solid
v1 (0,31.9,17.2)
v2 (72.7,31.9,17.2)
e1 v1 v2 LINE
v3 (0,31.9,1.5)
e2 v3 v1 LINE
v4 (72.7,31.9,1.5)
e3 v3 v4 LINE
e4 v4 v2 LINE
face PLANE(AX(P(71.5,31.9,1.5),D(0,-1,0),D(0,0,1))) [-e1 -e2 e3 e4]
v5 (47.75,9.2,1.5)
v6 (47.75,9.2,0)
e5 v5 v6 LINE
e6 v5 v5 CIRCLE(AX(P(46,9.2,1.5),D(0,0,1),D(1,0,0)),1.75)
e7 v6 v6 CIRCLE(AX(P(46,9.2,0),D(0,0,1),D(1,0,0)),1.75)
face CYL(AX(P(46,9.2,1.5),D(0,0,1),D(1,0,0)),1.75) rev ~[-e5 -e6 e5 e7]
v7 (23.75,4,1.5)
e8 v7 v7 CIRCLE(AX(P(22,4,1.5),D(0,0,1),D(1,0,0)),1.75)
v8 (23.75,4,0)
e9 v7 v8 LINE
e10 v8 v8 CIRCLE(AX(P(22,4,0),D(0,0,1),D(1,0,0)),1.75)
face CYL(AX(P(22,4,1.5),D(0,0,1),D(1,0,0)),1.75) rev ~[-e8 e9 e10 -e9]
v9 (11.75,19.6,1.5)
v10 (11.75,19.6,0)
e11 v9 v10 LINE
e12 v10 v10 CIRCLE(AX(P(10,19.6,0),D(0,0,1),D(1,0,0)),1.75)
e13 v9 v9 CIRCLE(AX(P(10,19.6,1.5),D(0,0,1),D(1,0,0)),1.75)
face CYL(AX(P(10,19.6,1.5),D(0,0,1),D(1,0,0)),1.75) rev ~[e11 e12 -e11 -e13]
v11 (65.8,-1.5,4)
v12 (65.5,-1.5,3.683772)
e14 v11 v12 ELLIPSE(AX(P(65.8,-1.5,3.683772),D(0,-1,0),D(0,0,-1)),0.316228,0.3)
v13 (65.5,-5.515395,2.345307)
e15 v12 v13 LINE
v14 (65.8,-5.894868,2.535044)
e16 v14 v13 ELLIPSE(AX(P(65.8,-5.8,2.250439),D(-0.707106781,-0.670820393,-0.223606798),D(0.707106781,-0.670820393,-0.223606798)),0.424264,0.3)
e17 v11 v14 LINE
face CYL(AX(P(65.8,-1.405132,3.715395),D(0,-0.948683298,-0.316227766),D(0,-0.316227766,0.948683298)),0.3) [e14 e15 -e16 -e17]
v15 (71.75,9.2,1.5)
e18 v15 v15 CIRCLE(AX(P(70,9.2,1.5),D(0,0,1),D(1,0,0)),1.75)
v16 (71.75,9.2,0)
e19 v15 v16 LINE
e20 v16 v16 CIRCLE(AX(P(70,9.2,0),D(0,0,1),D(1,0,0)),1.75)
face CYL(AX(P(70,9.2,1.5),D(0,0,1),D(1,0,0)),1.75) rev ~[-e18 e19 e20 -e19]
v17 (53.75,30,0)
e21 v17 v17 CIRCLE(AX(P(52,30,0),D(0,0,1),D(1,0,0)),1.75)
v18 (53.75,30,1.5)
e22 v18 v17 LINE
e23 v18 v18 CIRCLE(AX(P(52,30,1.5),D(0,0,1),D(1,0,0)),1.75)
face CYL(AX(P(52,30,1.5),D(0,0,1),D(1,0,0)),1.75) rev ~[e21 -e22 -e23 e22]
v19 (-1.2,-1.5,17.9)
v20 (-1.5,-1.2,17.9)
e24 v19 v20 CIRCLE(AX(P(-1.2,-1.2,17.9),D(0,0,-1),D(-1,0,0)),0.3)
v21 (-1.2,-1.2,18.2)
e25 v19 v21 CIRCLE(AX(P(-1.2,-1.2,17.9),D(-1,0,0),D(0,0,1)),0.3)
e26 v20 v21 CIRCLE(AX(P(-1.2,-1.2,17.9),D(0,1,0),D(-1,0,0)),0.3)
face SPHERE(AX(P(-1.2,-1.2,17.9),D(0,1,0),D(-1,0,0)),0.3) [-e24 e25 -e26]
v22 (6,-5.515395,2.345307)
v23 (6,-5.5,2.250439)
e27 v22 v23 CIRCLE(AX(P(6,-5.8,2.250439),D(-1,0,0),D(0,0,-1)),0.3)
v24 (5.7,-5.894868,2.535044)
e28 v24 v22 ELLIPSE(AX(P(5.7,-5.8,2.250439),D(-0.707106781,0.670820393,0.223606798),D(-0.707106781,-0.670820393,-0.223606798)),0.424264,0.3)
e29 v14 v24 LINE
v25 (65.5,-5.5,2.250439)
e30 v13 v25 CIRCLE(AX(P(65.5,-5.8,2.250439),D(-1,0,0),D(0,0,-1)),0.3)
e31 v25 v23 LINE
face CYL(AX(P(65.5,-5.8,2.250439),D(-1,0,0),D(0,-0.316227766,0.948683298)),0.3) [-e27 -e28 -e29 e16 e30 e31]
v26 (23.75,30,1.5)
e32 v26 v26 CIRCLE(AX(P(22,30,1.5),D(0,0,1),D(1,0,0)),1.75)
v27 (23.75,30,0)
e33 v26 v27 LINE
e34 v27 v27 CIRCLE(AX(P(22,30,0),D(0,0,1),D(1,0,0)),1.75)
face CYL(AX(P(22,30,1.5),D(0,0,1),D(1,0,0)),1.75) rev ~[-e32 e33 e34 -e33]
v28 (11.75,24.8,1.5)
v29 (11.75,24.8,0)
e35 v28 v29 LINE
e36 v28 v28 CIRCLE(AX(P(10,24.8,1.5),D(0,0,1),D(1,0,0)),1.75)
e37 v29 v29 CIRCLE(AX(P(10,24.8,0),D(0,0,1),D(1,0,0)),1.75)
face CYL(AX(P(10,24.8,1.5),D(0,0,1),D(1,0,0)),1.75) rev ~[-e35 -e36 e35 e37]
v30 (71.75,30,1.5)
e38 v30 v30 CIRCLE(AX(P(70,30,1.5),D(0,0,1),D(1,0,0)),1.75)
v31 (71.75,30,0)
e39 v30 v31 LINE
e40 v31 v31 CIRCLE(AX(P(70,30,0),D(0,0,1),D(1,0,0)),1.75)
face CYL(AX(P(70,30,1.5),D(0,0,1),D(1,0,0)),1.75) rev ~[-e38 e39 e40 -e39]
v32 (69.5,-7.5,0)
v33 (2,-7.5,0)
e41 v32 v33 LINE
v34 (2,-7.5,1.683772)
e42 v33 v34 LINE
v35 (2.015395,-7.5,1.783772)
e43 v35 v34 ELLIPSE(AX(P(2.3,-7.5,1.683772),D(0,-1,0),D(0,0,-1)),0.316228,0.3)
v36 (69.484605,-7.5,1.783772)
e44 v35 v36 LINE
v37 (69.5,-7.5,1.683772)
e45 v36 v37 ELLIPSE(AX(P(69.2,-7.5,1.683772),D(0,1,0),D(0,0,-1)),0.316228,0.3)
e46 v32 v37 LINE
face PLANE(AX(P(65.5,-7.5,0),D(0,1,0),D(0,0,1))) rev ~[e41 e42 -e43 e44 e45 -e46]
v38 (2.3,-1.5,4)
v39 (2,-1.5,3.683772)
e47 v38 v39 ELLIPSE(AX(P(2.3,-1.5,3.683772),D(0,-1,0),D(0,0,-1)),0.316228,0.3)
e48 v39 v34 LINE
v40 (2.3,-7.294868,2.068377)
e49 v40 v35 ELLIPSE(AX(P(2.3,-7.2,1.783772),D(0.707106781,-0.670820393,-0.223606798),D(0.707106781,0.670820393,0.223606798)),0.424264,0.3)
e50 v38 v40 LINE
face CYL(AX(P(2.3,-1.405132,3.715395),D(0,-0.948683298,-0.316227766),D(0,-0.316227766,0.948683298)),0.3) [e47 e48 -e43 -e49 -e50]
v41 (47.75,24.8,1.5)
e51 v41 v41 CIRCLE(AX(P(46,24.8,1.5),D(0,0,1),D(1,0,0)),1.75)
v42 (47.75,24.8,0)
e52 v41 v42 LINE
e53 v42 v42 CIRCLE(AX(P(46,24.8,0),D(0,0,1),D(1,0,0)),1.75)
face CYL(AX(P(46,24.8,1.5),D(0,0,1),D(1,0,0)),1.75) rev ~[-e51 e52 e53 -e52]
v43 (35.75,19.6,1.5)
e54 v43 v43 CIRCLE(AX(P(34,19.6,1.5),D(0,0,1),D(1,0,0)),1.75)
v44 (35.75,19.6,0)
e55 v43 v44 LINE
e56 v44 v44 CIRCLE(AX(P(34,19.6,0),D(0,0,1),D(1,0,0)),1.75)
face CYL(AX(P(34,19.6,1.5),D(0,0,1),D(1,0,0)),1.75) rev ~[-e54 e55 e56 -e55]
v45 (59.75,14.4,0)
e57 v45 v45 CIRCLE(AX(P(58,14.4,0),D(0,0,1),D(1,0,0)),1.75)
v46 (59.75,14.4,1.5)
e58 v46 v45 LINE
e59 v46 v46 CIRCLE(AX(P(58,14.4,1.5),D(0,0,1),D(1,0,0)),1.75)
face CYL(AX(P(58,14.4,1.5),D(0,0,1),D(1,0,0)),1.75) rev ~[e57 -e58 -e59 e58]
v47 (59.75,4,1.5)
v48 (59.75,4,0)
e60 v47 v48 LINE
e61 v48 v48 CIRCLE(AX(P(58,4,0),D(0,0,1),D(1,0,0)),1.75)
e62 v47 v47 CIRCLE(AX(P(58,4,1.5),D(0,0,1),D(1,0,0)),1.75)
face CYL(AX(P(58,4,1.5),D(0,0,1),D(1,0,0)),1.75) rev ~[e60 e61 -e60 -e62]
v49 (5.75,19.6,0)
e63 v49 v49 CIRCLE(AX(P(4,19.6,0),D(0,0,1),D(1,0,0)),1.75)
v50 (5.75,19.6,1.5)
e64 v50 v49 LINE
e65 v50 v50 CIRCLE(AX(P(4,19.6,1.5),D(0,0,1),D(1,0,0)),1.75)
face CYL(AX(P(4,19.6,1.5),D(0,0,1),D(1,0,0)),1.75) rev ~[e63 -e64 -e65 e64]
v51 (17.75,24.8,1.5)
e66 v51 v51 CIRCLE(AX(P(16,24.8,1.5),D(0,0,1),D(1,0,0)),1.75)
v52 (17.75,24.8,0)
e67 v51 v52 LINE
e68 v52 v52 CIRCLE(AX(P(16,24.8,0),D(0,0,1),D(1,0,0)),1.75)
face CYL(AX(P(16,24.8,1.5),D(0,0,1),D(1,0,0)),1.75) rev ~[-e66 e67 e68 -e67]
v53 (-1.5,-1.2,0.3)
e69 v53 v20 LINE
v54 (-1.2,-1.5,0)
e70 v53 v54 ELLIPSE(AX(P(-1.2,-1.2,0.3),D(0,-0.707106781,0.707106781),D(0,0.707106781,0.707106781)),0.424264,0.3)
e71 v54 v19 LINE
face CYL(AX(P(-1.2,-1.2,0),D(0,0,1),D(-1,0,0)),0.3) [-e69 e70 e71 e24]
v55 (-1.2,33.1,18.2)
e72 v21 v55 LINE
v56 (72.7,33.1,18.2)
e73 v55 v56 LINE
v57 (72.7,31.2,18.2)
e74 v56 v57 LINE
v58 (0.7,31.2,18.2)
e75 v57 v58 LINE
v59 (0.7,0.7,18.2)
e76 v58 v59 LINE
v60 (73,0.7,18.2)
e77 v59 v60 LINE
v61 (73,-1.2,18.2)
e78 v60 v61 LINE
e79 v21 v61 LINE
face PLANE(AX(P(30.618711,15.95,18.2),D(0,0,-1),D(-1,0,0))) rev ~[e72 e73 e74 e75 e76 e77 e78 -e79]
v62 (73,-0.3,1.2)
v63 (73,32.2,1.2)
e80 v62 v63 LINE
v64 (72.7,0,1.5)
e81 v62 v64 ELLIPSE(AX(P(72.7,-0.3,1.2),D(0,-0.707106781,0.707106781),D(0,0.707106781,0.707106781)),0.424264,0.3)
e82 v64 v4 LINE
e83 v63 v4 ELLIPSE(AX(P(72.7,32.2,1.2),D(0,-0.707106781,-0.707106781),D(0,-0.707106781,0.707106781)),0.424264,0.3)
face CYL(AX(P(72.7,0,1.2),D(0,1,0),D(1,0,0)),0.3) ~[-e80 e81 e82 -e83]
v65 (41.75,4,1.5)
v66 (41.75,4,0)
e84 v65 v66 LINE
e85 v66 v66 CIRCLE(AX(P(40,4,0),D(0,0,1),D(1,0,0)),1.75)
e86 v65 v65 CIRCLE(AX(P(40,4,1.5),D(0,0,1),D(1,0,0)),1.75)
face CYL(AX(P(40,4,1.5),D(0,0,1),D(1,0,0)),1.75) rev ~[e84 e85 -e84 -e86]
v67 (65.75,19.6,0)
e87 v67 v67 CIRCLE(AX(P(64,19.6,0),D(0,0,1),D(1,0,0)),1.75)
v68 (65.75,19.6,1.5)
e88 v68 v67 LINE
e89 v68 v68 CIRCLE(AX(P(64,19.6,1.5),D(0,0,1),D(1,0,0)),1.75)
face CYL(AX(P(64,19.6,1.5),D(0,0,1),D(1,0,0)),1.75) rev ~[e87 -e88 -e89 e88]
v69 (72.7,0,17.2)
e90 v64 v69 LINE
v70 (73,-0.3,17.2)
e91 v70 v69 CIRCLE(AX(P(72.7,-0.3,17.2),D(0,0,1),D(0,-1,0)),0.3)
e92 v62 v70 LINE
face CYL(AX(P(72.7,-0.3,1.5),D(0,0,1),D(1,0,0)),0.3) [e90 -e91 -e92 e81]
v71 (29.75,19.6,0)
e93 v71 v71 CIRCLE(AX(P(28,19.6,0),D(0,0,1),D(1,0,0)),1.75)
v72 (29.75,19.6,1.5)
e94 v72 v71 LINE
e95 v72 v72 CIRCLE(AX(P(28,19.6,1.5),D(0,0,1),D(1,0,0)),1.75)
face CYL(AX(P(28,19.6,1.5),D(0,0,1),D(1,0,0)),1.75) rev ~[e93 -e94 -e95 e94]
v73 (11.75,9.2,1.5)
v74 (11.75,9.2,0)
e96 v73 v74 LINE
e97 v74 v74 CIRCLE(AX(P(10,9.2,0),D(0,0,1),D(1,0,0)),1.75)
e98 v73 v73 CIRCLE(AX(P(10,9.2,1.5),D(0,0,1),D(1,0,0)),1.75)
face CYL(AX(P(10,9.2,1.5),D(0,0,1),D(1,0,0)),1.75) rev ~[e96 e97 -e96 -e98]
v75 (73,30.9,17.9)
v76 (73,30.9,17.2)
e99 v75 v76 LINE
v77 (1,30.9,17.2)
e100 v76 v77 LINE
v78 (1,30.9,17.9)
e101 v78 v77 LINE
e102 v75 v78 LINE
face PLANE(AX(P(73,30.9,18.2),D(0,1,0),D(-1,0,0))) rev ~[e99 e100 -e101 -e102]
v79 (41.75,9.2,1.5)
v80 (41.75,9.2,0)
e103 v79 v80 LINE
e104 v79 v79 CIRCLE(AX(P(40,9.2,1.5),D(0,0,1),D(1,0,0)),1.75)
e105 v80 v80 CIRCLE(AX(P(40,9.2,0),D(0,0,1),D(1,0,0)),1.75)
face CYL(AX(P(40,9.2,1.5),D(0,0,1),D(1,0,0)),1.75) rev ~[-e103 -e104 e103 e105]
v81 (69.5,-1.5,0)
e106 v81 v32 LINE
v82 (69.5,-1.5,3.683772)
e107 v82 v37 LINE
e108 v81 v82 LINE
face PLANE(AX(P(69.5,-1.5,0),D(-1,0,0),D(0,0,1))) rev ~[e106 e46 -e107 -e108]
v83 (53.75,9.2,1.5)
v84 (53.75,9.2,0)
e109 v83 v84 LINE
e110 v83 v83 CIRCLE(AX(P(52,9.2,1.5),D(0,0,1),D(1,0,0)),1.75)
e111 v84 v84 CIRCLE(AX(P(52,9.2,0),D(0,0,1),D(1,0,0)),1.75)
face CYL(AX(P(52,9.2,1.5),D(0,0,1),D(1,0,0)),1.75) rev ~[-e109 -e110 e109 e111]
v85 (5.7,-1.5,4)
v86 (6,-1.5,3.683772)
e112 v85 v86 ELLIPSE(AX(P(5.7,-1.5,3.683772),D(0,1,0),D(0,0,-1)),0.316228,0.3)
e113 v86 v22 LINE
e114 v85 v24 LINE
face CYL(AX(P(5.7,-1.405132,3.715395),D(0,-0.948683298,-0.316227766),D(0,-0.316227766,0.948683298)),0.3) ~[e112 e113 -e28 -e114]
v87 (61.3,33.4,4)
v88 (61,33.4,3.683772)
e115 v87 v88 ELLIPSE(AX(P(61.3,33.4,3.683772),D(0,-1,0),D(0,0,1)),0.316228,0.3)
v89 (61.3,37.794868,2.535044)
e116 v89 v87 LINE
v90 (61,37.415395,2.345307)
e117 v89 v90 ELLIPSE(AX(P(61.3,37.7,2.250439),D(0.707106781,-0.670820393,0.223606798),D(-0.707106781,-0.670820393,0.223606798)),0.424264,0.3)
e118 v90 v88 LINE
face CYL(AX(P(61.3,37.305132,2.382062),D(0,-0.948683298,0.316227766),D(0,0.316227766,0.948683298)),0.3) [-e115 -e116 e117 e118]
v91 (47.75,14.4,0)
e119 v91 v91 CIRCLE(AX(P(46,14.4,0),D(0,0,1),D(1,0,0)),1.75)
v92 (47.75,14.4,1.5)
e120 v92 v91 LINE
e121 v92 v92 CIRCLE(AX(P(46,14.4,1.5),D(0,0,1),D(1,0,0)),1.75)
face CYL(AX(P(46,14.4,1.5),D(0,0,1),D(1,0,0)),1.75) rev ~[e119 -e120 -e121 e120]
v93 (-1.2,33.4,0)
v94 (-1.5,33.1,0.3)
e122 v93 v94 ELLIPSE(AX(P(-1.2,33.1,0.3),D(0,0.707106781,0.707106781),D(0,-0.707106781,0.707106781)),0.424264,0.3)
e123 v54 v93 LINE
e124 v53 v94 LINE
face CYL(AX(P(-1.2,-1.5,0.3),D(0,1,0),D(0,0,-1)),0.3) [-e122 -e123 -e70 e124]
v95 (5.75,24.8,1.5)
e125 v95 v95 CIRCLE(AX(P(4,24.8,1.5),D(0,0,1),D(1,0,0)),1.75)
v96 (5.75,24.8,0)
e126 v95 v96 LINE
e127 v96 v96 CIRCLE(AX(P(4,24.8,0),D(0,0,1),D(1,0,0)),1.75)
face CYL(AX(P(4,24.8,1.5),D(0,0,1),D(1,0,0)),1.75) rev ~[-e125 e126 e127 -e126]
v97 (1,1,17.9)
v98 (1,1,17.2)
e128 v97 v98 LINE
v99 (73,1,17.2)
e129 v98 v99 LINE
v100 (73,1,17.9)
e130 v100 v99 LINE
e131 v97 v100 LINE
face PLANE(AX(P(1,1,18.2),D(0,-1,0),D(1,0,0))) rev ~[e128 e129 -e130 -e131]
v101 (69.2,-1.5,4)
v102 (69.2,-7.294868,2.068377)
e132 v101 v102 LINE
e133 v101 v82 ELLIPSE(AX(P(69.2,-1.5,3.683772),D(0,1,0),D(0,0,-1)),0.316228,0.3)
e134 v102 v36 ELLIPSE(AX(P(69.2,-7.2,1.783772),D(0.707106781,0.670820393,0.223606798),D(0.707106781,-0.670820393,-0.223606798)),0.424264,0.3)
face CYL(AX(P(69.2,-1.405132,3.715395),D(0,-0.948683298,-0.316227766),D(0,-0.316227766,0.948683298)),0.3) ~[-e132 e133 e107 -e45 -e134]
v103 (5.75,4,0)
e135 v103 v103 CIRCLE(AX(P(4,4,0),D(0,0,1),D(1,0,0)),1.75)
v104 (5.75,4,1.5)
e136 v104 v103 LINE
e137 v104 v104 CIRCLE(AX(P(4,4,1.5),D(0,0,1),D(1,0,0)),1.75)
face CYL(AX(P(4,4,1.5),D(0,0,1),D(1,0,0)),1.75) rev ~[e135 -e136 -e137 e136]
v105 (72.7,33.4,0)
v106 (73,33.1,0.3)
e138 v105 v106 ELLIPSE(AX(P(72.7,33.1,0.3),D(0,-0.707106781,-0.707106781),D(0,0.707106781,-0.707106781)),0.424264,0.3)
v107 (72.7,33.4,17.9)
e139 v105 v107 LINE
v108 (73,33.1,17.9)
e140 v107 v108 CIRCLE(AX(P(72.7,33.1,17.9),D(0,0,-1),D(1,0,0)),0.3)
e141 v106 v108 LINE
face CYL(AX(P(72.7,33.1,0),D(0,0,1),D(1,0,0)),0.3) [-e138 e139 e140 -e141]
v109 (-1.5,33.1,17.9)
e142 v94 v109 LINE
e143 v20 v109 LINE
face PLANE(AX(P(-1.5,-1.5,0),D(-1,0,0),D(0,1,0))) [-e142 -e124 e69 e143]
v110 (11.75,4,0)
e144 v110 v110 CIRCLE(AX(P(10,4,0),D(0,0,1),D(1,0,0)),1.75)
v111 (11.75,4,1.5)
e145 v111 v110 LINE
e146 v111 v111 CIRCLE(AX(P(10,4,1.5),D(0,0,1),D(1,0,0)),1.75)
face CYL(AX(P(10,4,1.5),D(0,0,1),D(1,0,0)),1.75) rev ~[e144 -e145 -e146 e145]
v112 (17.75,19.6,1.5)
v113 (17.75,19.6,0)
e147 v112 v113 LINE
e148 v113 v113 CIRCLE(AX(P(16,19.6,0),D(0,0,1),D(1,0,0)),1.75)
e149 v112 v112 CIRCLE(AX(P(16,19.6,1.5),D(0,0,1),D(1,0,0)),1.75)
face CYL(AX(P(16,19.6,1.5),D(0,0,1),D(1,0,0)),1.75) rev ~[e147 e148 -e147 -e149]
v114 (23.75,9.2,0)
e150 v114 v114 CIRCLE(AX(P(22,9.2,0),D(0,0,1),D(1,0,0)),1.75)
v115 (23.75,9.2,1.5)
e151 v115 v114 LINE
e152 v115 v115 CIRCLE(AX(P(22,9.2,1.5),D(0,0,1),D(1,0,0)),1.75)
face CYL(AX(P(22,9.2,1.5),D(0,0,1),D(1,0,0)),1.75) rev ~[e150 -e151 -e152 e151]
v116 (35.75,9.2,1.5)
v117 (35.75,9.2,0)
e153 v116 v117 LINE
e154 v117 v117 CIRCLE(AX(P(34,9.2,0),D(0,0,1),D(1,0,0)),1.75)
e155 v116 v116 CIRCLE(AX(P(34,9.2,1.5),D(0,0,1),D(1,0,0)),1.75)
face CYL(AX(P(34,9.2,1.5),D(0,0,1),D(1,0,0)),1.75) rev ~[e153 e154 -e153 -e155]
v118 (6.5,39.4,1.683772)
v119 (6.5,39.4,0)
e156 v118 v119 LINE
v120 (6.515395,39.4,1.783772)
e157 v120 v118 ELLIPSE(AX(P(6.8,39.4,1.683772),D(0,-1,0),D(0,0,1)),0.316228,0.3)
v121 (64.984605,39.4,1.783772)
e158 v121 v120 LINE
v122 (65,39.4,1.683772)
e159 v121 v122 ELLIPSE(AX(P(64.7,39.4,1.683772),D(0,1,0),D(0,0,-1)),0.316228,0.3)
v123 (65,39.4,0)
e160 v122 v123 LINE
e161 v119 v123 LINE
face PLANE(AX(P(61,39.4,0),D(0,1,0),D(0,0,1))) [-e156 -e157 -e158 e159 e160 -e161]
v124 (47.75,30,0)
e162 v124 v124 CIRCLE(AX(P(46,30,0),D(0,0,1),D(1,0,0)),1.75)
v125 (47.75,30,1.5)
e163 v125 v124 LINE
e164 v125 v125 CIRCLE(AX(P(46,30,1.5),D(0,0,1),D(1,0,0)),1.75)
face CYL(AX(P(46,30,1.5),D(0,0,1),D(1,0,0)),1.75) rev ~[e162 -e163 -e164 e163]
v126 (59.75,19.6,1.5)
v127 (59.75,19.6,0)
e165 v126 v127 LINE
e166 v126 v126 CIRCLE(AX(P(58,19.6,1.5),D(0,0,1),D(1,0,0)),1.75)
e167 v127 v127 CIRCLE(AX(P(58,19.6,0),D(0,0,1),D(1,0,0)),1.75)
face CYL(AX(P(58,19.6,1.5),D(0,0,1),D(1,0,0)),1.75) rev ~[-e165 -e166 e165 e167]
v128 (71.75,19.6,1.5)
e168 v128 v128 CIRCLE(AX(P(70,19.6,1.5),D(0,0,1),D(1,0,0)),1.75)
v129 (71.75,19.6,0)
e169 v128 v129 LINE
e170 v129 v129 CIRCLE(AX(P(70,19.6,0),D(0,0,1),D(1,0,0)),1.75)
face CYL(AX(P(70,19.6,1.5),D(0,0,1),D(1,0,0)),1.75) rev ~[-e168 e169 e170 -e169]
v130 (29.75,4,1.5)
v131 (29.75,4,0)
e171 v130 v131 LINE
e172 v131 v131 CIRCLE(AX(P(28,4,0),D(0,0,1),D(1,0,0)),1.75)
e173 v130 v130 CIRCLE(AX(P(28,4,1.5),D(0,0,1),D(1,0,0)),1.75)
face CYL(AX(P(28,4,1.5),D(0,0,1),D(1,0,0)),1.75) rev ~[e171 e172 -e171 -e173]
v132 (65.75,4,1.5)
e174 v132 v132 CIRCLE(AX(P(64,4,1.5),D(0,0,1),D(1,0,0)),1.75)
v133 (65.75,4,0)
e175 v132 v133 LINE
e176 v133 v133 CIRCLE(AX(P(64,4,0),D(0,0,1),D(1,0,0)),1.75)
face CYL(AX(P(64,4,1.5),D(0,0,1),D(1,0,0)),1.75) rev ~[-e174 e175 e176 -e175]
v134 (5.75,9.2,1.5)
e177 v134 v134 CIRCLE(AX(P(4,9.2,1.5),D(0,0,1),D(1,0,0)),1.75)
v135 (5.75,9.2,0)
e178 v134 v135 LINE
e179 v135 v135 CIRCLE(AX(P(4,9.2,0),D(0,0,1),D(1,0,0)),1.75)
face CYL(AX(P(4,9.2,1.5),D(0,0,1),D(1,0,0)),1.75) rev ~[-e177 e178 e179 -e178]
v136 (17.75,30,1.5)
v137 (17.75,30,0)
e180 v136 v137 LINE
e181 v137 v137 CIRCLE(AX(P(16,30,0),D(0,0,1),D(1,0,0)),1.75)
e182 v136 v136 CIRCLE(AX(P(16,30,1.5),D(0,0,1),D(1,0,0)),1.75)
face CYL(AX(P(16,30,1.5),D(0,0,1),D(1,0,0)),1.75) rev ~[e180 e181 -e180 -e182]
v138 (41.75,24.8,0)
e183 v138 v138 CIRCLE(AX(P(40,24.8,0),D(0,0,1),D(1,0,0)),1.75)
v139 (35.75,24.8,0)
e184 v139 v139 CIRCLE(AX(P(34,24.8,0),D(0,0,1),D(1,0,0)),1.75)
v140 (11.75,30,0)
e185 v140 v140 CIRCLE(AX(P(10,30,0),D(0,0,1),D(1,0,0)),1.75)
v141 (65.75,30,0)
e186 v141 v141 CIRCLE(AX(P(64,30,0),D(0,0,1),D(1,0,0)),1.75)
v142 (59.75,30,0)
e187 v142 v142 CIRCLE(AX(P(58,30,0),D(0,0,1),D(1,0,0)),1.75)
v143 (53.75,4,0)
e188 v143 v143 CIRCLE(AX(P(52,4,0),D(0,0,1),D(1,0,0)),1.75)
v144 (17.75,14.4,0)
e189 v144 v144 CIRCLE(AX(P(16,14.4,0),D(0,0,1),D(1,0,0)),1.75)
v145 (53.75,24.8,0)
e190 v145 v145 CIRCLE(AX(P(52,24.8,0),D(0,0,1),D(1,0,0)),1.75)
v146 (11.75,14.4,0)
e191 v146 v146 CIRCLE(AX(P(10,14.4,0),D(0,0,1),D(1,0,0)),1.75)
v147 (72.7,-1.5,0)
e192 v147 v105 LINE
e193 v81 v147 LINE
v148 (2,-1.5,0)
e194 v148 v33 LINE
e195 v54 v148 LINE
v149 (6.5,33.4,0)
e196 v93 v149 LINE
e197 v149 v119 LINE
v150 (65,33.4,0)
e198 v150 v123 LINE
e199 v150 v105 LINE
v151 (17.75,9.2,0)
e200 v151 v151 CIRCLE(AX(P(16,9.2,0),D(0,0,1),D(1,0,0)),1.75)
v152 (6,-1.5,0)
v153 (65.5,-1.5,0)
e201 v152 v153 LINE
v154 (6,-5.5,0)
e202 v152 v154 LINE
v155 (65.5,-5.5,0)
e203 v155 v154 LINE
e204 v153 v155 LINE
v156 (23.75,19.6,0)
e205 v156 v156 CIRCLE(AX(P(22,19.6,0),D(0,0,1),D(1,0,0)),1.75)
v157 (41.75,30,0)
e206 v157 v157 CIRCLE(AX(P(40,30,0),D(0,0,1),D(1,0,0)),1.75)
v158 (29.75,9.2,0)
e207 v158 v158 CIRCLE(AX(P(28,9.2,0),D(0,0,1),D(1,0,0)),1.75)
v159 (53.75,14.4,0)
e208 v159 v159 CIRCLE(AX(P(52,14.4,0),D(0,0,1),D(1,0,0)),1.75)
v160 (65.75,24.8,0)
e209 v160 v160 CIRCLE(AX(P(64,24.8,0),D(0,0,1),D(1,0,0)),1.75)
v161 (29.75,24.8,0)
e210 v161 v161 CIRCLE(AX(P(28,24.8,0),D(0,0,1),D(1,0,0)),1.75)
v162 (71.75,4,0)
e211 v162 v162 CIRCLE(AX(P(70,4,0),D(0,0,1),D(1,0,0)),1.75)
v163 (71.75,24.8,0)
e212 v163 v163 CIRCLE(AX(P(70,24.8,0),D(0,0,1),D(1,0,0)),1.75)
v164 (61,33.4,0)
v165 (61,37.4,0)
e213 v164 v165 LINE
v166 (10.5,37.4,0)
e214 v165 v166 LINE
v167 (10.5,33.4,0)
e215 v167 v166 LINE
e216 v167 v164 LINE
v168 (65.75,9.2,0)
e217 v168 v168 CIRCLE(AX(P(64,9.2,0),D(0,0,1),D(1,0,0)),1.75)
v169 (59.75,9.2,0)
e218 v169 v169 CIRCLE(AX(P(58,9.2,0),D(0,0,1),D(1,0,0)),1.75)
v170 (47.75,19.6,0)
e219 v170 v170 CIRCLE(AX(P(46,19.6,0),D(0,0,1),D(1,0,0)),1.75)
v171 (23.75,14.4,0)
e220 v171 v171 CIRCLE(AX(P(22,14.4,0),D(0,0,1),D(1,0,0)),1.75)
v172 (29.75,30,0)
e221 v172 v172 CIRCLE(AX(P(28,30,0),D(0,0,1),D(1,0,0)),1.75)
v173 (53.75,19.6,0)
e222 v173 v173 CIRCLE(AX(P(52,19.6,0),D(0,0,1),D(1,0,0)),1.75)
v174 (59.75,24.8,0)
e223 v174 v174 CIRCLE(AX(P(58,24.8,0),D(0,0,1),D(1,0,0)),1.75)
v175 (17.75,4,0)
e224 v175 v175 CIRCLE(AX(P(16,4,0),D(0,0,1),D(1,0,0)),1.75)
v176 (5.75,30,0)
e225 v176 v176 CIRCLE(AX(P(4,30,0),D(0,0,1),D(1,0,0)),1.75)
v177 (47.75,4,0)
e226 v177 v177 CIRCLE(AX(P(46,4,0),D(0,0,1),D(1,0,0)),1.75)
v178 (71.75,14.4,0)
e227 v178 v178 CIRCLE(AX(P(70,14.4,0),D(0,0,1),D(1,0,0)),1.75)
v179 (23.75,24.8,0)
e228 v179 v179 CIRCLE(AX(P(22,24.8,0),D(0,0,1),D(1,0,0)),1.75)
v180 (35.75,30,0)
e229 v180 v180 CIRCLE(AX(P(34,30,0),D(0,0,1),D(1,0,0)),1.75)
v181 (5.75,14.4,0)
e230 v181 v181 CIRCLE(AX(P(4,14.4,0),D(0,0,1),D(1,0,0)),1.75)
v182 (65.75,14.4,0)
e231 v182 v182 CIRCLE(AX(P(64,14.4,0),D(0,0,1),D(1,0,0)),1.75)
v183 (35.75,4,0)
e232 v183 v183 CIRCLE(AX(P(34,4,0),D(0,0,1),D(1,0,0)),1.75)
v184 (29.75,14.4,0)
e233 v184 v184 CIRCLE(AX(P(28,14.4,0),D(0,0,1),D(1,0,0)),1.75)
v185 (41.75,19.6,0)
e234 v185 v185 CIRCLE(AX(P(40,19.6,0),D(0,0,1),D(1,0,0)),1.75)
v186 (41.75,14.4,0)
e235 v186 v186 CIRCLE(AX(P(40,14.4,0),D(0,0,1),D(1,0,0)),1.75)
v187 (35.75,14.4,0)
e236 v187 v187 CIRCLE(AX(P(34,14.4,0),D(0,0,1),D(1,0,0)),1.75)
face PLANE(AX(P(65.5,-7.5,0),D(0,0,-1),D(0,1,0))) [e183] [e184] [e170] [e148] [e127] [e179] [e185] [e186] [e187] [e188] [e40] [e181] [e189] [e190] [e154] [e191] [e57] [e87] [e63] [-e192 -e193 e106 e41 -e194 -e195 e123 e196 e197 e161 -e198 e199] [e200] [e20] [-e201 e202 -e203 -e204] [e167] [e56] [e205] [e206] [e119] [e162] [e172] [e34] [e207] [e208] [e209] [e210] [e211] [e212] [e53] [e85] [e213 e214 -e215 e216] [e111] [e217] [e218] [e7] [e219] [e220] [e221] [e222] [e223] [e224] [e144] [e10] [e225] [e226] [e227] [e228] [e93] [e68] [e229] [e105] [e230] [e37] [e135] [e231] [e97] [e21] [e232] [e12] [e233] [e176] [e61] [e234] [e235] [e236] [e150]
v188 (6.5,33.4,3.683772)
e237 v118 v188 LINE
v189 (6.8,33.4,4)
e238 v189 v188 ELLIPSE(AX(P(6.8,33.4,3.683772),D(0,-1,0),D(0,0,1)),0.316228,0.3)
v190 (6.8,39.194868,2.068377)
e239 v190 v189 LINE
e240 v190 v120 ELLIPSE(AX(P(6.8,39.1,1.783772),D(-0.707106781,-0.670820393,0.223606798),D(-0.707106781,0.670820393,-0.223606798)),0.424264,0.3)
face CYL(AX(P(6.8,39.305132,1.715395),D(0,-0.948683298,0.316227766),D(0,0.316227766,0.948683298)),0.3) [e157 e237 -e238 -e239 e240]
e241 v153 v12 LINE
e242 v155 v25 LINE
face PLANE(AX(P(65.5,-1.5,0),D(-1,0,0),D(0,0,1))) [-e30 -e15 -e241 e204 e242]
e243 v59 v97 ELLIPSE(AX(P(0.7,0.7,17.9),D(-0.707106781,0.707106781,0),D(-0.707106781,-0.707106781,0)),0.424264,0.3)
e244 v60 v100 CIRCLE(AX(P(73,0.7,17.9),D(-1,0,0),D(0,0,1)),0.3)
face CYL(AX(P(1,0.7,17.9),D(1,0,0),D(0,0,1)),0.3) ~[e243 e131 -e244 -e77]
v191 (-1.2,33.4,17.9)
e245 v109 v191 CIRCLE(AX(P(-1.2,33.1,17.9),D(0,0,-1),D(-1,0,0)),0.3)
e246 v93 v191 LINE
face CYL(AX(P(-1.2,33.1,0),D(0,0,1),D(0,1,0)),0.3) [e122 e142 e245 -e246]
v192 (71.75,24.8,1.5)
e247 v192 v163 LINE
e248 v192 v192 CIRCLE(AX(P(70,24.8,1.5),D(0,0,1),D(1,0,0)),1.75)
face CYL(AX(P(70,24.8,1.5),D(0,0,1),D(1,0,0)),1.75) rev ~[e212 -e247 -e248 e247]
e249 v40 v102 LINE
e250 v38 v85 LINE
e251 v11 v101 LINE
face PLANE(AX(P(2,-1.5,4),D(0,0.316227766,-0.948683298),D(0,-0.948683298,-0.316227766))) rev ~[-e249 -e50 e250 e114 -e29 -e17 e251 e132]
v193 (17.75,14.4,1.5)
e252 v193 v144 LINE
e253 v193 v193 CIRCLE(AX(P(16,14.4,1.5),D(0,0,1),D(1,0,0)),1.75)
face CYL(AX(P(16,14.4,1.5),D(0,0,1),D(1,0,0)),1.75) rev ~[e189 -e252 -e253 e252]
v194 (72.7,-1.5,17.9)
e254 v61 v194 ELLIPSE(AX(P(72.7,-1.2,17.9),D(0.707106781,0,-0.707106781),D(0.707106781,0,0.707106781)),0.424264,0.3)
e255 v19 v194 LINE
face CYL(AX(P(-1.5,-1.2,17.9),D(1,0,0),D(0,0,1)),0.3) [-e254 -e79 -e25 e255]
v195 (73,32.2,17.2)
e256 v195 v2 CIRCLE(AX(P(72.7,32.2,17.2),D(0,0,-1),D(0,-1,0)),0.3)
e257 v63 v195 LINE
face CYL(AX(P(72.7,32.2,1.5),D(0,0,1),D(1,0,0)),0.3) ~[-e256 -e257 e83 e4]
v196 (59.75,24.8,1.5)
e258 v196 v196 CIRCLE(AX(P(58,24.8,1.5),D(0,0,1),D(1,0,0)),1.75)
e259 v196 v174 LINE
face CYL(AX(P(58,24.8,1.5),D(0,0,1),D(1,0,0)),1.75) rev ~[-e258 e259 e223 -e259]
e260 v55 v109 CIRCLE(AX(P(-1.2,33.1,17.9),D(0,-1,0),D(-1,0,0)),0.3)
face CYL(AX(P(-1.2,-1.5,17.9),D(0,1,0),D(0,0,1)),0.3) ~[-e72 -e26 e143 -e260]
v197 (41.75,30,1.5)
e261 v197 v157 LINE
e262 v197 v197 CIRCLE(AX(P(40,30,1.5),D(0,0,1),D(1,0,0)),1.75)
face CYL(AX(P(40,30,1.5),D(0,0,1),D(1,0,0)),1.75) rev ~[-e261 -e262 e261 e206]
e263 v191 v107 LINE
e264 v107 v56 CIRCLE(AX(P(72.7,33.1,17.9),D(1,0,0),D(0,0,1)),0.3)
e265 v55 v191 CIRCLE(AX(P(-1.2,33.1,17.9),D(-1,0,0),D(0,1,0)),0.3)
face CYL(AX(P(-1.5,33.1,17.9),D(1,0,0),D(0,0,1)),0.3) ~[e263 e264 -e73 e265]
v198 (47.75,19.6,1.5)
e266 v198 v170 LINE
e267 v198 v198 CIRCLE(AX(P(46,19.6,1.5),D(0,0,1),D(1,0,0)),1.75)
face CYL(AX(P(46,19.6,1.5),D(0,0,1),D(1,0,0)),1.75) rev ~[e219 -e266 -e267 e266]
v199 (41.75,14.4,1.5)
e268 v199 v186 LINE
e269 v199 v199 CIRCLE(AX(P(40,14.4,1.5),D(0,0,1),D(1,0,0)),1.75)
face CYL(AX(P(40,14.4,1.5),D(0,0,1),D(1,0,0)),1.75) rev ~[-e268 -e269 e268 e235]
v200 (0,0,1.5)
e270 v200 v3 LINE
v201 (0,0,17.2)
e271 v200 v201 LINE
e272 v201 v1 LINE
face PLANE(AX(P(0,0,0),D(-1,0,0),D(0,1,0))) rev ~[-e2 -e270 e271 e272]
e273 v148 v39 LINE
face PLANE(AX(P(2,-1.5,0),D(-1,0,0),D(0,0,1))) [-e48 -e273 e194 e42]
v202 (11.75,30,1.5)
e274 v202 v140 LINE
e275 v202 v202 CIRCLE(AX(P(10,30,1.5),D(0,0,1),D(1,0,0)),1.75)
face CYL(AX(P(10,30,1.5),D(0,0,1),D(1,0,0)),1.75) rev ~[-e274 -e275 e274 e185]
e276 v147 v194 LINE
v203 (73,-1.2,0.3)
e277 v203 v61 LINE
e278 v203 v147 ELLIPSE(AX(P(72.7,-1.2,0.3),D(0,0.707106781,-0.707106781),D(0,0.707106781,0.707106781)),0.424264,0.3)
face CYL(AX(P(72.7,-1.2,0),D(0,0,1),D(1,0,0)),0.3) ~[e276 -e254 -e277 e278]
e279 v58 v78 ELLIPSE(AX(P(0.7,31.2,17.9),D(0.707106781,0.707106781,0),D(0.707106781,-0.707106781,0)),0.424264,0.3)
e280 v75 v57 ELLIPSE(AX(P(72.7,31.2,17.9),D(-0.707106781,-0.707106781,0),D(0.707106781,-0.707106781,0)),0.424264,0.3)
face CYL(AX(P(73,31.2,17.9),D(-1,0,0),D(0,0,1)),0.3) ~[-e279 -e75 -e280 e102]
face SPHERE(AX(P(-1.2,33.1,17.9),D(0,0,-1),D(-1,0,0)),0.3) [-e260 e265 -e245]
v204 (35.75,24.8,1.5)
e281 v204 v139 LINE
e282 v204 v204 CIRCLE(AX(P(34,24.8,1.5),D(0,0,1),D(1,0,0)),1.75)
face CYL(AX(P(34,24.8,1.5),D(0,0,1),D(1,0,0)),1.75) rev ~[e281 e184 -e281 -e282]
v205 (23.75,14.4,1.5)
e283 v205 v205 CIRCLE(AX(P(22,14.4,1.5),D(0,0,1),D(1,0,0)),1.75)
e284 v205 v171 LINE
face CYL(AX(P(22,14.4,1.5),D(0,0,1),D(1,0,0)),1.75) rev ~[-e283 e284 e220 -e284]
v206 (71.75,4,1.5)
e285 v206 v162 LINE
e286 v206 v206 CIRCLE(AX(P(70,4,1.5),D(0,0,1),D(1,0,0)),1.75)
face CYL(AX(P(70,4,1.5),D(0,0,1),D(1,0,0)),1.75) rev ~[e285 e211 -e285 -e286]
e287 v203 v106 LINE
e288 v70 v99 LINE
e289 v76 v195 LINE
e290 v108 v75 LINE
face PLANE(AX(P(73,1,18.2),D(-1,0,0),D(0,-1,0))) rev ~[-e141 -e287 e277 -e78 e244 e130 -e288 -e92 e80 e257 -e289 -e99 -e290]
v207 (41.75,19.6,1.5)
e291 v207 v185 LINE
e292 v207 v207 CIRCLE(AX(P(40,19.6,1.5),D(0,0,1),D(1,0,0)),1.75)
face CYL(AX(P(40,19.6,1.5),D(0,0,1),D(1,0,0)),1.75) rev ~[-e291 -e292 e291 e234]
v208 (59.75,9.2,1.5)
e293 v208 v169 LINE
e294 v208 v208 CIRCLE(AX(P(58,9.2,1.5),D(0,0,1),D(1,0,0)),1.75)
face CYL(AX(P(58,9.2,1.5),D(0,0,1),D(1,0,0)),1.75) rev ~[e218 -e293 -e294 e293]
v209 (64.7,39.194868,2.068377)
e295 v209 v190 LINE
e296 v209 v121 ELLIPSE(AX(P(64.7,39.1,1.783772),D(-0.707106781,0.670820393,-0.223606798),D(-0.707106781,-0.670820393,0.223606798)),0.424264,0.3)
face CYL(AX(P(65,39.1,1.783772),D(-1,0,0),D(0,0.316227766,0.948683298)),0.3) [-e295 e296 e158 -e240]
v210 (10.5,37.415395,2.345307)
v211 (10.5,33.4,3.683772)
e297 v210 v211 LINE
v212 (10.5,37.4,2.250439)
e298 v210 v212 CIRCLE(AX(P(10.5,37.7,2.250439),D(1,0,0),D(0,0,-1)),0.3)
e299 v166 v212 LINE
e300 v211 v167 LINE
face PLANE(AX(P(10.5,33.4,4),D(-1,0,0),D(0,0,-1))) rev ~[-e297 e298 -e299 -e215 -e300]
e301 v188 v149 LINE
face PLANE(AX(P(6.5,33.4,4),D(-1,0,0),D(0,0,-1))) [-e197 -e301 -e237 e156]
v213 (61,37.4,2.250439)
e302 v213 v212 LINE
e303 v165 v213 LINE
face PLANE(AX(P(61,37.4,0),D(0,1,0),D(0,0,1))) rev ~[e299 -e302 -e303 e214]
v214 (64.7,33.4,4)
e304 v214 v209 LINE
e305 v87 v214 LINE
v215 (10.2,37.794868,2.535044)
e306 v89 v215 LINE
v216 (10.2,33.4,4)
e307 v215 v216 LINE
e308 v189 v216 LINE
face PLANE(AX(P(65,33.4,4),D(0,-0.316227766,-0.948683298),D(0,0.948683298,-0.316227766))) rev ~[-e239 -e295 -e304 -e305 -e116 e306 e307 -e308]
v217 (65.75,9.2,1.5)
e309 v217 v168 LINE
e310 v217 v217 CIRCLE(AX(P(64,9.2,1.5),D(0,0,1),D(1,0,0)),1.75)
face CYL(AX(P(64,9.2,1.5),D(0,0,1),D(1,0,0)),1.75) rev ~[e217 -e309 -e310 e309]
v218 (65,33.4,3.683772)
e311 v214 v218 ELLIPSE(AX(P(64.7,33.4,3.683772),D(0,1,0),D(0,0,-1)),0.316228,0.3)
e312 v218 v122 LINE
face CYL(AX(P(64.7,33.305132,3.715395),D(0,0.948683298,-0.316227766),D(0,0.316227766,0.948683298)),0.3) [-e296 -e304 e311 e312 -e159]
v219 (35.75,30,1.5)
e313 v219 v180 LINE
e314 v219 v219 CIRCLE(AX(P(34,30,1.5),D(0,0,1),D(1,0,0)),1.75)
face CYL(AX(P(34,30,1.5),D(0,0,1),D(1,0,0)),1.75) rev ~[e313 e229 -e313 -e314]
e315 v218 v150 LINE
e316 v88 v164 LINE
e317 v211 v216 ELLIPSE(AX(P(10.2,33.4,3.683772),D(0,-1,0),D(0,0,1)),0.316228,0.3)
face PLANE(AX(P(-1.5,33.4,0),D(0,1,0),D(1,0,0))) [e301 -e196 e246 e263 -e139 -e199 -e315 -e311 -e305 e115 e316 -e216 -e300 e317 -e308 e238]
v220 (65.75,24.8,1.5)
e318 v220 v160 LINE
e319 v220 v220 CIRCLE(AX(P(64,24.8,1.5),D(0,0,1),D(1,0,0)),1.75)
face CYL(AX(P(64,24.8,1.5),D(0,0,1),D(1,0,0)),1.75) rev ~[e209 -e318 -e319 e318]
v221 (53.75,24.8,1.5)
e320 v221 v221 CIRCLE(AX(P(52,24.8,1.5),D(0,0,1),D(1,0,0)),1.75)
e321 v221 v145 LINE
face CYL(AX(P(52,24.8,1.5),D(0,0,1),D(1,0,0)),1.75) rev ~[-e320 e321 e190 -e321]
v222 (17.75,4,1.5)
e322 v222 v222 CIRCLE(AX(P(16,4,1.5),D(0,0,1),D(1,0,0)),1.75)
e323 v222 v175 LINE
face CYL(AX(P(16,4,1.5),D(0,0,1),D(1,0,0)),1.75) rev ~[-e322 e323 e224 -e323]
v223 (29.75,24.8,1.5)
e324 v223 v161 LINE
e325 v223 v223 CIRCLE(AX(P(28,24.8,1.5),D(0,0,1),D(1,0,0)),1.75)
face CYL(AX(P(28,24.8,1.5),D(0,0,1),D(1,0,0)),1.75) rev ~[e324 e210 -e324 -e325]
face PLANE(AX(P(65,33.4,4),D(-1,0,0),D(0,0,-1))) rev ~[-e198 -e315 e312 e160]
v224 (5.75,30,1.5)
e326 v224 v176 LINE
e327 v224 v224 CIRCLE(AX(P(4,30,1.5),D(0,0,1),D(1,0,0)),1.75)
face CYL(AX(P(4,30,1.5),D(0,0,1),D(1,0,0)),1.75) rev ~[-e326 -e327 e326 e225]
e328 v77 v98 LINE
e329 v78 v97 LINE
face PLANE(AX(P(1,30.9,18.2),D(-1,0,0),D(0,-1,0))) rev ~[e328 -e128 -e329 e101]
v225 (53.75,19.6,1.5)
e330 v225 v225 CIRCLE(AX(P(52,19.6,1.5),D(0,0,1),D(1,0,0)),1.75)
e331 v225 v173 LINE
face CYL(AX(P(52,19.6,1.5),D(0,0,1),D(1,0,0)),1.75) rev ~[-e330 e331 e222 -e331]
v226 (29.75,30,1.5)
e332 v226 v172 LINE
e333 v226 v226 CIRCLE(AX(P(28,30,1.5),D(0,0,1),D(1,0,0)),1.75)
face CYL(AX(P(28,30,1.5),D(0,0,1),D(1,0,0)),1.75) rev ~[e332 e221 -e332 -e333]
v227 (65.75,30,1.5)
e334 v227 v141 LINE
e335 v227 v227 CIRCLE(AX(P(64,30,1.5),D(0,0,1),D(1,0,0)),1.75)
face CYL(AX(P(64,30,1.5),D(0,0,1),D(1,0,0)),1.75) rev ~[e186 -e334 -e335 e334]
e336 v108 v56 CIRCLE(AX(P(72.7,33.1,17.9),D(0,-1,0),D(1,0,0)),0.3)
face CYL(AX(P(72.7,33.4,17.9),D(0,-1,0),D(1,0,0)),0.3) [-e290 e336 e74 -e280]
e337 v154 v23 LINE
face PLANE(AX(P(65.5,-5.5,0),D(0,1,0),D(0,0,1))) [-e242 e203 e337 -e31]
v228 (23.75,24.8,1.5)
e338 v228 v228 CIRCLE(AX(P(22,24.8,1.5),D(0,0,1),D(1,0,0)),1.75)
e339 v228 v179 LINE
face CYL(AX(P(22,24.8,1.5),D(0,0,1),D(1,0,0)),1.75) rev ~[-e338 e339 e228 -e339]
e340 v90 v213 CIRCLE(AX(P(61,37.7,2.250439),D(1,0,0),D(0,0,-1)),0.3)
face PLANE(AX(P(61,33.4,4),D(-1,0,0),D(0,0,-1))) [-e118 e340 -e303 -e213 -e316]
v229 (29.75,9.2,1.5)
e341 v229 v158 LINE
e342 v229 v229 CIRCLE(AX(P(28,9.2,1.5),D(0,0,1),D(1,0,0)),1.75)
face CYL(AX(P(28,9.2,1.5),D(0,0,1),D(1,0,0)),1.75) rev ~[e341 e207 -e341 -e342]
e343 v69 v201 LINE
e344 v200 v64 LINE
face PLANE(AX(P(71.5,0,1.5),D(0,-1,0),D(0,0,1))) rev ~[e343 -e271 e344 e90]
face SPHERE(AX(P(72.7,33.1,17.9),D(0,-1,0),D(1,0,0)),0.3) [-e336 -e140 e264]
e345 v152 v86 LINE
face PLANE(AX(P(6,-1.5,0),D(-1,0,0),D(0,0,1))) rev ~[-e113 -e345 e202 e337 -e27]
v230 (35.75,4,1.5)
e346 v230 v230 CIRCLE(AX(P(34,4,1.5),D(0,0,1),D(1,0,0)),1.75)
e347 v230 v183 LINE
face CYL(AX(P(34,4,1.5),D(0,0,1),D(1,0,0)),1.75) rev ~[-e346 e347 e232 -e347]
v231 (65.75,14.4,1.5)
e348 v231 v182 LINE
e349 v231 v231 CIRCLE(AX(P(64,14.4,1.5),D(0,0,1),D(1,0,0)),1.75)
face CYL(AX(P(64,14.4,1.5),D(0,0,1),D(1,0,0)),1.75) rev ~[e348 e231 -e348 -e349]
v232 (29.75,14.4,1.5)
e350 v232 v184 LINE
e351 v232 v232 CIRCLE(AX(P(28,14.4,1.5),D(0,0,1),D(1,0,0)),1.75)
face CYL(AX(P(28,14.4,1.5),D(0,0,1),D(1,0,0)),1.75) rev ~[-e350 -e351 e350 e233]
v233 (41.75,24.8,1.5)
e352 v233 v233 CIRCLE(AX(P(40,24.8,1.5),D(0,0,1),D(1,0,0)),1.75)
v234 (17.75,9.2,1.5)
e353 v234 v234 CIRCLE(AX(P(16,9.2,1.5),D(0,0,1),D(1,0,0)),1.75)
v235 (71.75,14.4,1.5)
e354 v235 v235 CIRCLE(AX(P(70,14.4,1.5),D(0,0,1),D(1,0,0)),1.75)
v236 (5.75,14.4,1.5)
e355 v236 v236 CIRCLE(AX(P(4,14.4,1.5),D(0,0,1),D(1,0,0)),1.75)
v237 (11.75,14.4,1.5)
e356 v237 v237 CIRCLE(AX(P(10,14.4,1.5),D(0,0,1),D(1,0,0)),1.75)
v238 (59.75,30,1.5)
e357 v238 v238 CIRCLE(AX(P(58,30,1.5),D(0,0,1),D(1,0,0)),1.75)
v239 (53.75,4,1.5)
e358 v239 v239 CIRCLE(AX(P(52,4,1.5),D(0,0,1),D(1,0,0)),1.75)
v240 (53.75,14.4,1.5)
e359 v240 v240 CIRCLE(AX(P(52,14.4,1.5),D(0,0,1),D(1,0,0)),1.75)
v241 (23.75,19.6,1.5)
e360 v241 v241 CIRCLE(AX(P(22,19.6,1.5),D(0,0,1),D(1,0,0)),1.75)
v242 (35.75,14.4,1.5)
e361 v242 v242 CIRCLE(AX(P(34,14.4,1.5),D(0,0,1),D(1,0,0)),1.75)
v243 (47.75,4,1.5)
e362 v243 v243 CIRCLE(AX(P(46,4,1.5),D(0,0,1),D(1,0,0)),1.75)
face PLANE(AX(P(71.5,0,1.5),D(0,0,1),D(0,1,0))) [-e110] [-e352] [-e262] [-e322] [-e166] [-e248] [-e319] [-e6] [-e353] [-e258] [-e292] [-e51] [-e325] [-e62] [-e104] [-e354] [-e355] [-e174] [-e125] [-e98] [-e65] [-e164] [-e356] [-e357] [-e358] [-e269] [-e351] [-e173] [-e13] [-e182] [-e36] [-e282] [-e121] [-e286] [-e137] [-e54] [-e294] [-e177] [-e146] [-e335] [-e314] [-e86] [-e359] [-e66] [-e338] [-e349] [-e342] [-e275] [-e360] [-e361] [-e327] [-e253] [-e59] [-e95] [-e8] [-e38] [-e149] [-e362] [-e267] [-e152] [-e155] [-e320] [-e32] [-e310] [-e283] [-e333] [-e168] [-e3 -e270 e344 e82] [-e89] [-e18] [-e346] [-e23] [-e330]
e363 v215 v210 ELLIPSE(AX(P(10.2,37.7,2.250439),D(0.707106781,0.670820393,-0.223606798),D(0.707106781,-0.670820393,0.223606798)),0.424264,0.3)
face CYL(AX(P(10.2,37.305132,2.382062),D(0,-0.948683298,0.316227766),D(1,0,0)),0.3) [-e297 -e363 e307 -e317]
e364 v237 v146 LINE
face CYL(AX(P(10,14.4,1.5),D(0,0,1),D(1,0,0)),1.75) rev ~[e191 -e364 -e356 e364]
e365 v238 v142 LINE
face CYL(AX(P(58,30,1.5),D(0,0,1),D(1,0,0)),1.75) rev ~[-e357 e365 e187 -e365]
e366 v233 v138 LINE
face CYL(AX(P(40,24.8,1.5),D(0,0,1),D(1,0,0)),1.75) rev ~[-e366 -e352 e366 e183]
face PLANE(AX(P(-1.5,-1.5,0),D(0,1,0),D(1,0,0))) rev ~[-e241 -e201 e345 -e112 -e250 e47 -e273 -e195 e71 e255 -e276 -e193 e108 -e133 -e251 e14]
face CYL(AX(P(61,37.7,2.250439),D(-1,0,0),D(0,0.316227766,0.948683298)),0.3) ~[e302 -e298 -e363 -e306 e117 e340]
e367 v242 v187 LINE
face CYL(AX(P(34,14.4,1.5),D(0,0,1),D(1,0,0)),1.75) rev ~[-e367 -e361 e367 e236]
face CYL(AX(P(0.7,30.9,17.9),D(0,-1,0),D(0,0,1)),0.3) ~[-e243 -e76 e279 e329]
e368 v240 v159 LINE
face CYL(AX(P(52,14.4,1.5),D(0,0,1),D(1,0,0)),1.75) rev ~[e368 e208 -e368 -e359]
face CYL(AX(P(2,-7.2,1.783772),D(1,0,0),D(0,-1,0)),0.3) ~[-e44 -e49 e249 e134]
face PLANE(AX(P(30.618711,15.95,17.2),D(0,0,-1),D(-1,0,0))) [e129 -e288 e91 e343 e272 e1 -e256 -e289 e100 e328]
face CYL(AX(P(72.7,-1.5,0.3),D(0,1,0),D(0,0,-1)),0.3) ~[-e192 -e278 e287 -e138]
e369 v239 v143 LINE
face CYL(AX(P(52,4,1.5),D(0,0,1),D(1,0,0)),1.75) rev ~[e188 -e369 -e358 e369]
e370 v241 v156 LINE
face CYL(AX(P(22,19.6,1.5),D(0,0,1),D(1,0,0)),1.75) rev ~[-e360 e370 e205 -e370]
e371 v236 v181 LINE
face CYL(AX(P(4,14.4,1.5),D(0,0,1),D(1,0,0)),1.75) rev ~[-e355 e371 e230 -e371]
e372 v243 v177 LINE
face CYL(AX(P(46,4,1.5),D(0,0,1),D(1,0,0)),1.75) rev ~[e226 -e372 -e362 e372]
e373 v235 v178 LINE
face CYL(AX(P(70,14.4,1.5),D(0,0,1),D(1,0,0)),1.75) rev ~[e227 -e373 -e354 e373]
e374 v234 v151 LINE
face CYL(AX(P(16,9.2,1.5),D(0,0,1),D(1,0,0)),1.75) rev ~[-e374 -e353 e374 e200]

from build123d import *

# Parameters (mm, degrees)
SKETCH_1_W          = 74.5
SKETCH_1_H          = 34.9
SKETCH_1_W_2        = 71.5
SKETCH_1_H_2        = 31.9
EXTRUDE_1_DEPTH     = 18.2
SKETCH_2_W          = 71.5
SKETCH_2_H          = 31.9
EXTRUDE_2_DEPTH     = 1.5
SKETCH_3_W          = 16.7
SKETCH_3_H          = 31.9
CUT_EXTRUDE_1_DEPTH = 83.315247676
EXTRUDE_3_DEPTH     = 1
SKETCH_5_W          = 4
SKETCH_5_H          = 4
EXTRUDE_5_DEPTH     = 6
EXTRUDE_6_REACH     = 78.091
SKETCH_15_W         = 4
SKETCH_15_H         = 2
CUT_EXTRUDE_2_DEPTH = 80.409382317
SKETCH_17_W         = 4
SKETCH_17_H         = 4
EXTRUDE_7_DEPTH     = 6
EXTRUDE_8_REACH     = 81.829
SKETCH_18_W         = 4
SKETCH_18_H         = 2
CUT_EXTRUDE_3_DEPTH = 84.214181484
FILLET_1_R          = 0.3
SKETCH_20_R         = 1.75
CUT_EXTRUDE_4_DEPTH = 85.618260441


with BuildPart() as part:
    # 草图1 → 凸台-拉伸1 (new body)
    with BuildSketch(Plane.XY):
        with Locations((35.75, 15.95)):
            Rectangle(SKETCH_1_W, SKETCH_1_H)
        with Locations((35.75, 15.95)):
            Rectangle(SKETCH_1_W_2, SKETCH_1_H_2, mode=Mode.SUBTRACT)
    extrude(amount=EXTRUDE_1_DEPTH)

    # 草图2 → 凸台-拉伸2 (add)
    with BuildSketch(Plane(origin=(0, 0, 0), x_dir=(-1, 0, 0), z_dir=(0, 0, -1))):
        with Locations((-35.75, 15.95)):
            Rectangle(SKETCH_2_W, SKETCH_2_H)
    extrude(amount=-EXTRUDE_2_DEPTH)

    # 草图3 → 切除-拉伸1 (cut, through all)
    with BuildSketch(Plane.ZY.offset(-71.5)):
        with Locations((9.85, 15.95)):
            Rectangle(SKETCH_3_W, SKETCH_3_H)
    extrude(amount=-CUT_EXTRUDE_1_DEPTH, mode=Mode.SUBTRACT)

    # 草图4 → 凸台-拉伸3 (add)
    with BuildSketch(Plane.XY.offset(18.2)):
        Polygon((1, 1), (73, 1), (73, 0), (0, 0), (0, 31.9), (73, 31.9), (73, 30.9), (1, 30.9), align=None)
    extrude(amount=-EXTRUDE_3_DEPTH)

    # 草图5 → 凸台-拉伸5 (add)
    with BuildSketch(Plane(origin=(0, 33.4, 0), x_dir=(1, 0, 0), z_dir=(0, 1, 0))):
        with Locations((8.5, -2)):
            Rectangle(SKETCH_5_W, SKETCH_5_H)
        with Locations((63, -2)):
            Rectangle(SKETCH_5_W, SKETCH_5_H)
    extrude(amount=EXTRUDE_5_DEPTH)

    # 草图15 → 凸台-拉伸6 (add, up to next)
    with BuildSketch(Plane.ZY.offset(-61), mode=Mode.PRIVATE) as extrude_6_sk1:
        with Locations((2, 38.4)):
            Rectangle(SKETCH_15_W, SKETCH_15_H)
    extrude_6_tool1 = extrude(extrude_6_sk1.sketch, amount=EXTRUDE_6_REACH, mode=Mode.PRIVATE) - part.part
    add(extrude_6_tool1.solids().sort_by_distance((61, 38.4, 2))[0])

    # 草图16 → 切除-拉伸2 (cut, through all)
    with BuildSketch(Plane(origin=(65, 0, 0), x_dir=(0, 0, -1), z_dir=(1, 0, 0))):
        Polygon((-4, 33.4), (-2, 39.4), (-4, 39.4), align=None)
    extrude(amount=-CUT_EXTRUDE_2_DEPTH, mode=Mode.SUBTRACT)

    # 草图17 → 凸台-拉伸7 (add)
    with BuildSketch(Plane.XZ.offset(1.5)):
        with Locations((4, 2)):
            Rectangle(SKETCH_17_W, SKETCH_17_H)
        with Locations((67.5, 2)):
            Rectangle(SKETCH_17_W, SKETCH_17_H)
    extrude(amount=EXTRUDE_7_DEPTH)

    # 草图18 → 凸台-拉伸8 (add, up to next)
    with BuildSketch(Plane.ZY.offset(-65.5), mode=Mode.PRIVATE) as extrude_8_sk1:
        with Locations((2, -6.5)):
            Rectangle(SKETCH_18_W, SKETCH_18_H)
    extrude_8_tool1 = extrude(extrude_8_sk1.sketch, amount=EXTRUDE_8_REACH, mode=Mode.PRIVATE) - part.part
    add(extrude_8_tool1.solids().sort_by_distance((65.5, -6.5, 2))[0])

    # 草图19 → 切除-拉伸3 (cut, through all)
    with BuildSketch(Plane.ZY.offset(-2)):
        Polygon((4, -1.5), (2, -7.5), (4, -7.5), align=None)
    extrude(amount=-CUT_EXTRUDE_3_DEPTH, mode=Mode.SUBTRACT)

    # 圆角1
    fillet_1_edges = [part.edges().sort_by_distance(p)[0] for p in [
        (-1.5, 33.4, 9.1),
        (-1.5, 15.95, 18.2),
        (-1.5, -1.5, 9.1),
        (-1.5, 15.95, 0),
        (73, 31.9, 9.35),
        (73, 15.95, 1.5),
        (73, 0, 9.35),
        (73, -1.5, 9.1),
        (1, 15.95, 18.2),
        (37, 1, 18.2),
        (35.75, -1.5, 18.2),
        (73, 15.95, 0),
        (73, 32.15, 18.2),
        (37, 30.9, 18.2),
        (73, 33.4, 9.1),
        (35.75, 33.4, 18.2),
        (10.5, 35.4, 3.333333333),
        (35.75, 37.4, 2.666666667),
        (61, 35.4, 3.333333333),
        (6, -3.5, 3.333333333),
        (35.75, -5.5, 2.666666667),
        (65.5, -3.5, 3.333333333),
        (69.5, -4.5, 3),
        (35.75, -7.5, 2),
        (2, -4.5, 3),
        (65, 36.4, 3),
        (35.75, 39.4, 2),
        (6.5, 36.4, 3),
    ]]
    fillet(fillet_1_edges, radius=FILLET_1_R)

    # 草图20 → 切除-拉伸4 (cut, through all)
    with BuildSketch(Plane.XY.offset(1.5)):
        with Locations((4, 4)):
            Circle(SKETCH_20_R)
        with Locations((10, 4)):
            Circle(SKETCH_20_R)
        with Locations((16, 4)):
            Circle(SKETCH_20_R)
        with Locations((22, 4)):
            Circle(SKETCH_20_R)
        with Locations((28, 4)):
            Circle(SKETCH_20_R)
        with Locations((34, 4)):
            Circle(SKETCH_20_R)
        with Locations((40, 4)):
            Circle(SKETCH_20_R)
        with Locations((46, 4)):
            Circle(SKETCH_20_R)
        with Locations((52, 4)):
            Circle(SKETCH_20_R)
        with Locations((58, 4)):
            Circle(SKETCH_20_R)
        with Locations((64, 4)):
            Circle(SKETCH_20_R)
        with Locations((70, 4)):
            Circle(SKETCH_20_R)
        with Locations((4, 9.2)):
            Circle(SKETCH_20_R)
        with Locations((4, 14.4)):
            Circle(SKETCH_20_R)
        with Locations((4, 19.6)):
            Circle(SKETCH_20_R)
        with Locations((4, 24.8)):
            Circle(SKETCH_20_R)
        with Locations((4, 30)):
            Circle(SKETCH_20_R)
        with Locations((10, 30)):
            Circle(SKETCH_20_R)
        with Locations((10, 24.8)):
            Circle(SKETCH_20_R)
        with Locations((10, 19.6)):
            Circle(SKETCH_20_R)
        with Locations((10, 14.4)):
            Circle(SKETCH_20_R)
        with Locations((10, 9.2)):
            Circle(SKETCH_20_R)
        with Locations((16, 30)):
            Circle(SKETCH_20_R)
        with Locations((16, 24.8)):
            Circle(SKETCH_20_R)
        with Locations((16, 19.6)):
            Circle(SKETCH_20_R)
        with Locations((16, 14.4)):
            Circle(SKETCH_20_R)
        with Locations((16, 9.2)):
            Circle(SKETCH_20_R)
        with Locations((22, 30)):
            Circle(SKETCH_20_R)
        with Locations((22, 24.8)):
            Circle(SKETCH_20_R)
        with Locations((22, 19.6)):
            Circle(SKETCH_20_R)
        with Locations((22, 14.4)):
            Circle(SKETCH_20_R)
        with Locations((22, 9.2)):
            Circle(SKETCH_20_R)
        with Locations((28, 30)):
            Circle(SKETCH_20_R)
        with Locations((28, 24.8)):
            Circle(SKETCH_20_R)
        with Locations((28, 19.6)):
            Circle(SKETCH_20_R)
        with Locations((28, 14.4)):
            Circle(SKETCH_20_R)
        with Locations((28, 9.2)):
            Circle(SKETCH_20_R)
        with Locations((34, 30)):
            Circle(SKETCH_20_R)
        with Locations((34, 24.8)):
            Circle(SKETCH_20_R)
        with Locations((34, 19.6)):
            Circle(SKETCH_20_R)
        with Locations((34, 14.4)):
            Circle(SKETCH_20_R)
        with Locations((34, 9.2)):
            Circle(SKETCH_20_R)
        with Locations((40, 30)):
            Circle(SKETCH_20_R)
        with Locations((40, 24.8)):
            Circle(SKETCH_20_R)
        with Locations((40, 19.6)):
            Circle(SKETCH_20_R)
        with Locations((40, 14.4)):
            Circle(SKETCH_20_R)
        with Locations((40, 9.2)):
            Circle(SKETCH_20_R)
        with Locations((46, 30)):
            Circle(SKETCH_20_R)
        with Locations((46, 24.8)):
            Circle(SKETCH_20_R)
        with Locations((46, 19.6)):
            Circle(SKETCH_20_R)
        with Locations((46, 14.4)):
            Circle(SKETCH_20_R)
        with Locations((46, 9.2)):
            Circle(SKETCH_20_R)
        with Locations((52, 30)):
            Circle(SKETCH_20_R)
        with Locations((52, 24.8)):
            Circle(SKETCH_20_R)
        with Locations((52, 19.6)):
            Circle(SKETCH_20_R)
        with Locations((52, 14.4)):
            Circle(SKETCH_20_R)
        with Locations((52, 9.2)):
            Circle(SKETCH_20_R)
        with Locations((58, 30)):
            Circle(SKETCH_20_R)
        with Locations((58, 24.8)):
            Circle(SKETCH_20_R)
        with Locations((58, 19.6)):
            Circle(SKETCH_20_R)
        with Locations((58, 14.4)):
            Circle(SKETCH_20_R)
        with Locations((58, 9.2)):
            Circle(SKETCH_20_R)
        with Locations((64, 30)):
            Circle(SKETCH_20_R)
        with Locations((64, 24.8)):
            Circle(SKETCH_20_R)
        with Locations((64, 19.6)):
            Circle(SKETCH_20_R)
        with Locations((64, 14.4)):
            Circle(SKETCH_20_R)
        with Locations((64, 9.2)):
            Circle(SKETCH_20_R)
        with Locations((70, 30)):
            Circle(SKETCH_20_R)
        with Locations((70, 24.8)):
            Circle(SKETCH_20_R)
        with Locations((70, 19.6)):
            Circle(SKETCH_20_R)
        with Locations((70, 14.4)):
            Circle(SKETCH_20_R)
        with Locations((70, 9.2)):
            Circle(SKETCH_20_R)
    extrude(amount=-CUT_EXTRUDE_4_DEPTH, mode=Mode.SUBTRACT)


solid = part.part
